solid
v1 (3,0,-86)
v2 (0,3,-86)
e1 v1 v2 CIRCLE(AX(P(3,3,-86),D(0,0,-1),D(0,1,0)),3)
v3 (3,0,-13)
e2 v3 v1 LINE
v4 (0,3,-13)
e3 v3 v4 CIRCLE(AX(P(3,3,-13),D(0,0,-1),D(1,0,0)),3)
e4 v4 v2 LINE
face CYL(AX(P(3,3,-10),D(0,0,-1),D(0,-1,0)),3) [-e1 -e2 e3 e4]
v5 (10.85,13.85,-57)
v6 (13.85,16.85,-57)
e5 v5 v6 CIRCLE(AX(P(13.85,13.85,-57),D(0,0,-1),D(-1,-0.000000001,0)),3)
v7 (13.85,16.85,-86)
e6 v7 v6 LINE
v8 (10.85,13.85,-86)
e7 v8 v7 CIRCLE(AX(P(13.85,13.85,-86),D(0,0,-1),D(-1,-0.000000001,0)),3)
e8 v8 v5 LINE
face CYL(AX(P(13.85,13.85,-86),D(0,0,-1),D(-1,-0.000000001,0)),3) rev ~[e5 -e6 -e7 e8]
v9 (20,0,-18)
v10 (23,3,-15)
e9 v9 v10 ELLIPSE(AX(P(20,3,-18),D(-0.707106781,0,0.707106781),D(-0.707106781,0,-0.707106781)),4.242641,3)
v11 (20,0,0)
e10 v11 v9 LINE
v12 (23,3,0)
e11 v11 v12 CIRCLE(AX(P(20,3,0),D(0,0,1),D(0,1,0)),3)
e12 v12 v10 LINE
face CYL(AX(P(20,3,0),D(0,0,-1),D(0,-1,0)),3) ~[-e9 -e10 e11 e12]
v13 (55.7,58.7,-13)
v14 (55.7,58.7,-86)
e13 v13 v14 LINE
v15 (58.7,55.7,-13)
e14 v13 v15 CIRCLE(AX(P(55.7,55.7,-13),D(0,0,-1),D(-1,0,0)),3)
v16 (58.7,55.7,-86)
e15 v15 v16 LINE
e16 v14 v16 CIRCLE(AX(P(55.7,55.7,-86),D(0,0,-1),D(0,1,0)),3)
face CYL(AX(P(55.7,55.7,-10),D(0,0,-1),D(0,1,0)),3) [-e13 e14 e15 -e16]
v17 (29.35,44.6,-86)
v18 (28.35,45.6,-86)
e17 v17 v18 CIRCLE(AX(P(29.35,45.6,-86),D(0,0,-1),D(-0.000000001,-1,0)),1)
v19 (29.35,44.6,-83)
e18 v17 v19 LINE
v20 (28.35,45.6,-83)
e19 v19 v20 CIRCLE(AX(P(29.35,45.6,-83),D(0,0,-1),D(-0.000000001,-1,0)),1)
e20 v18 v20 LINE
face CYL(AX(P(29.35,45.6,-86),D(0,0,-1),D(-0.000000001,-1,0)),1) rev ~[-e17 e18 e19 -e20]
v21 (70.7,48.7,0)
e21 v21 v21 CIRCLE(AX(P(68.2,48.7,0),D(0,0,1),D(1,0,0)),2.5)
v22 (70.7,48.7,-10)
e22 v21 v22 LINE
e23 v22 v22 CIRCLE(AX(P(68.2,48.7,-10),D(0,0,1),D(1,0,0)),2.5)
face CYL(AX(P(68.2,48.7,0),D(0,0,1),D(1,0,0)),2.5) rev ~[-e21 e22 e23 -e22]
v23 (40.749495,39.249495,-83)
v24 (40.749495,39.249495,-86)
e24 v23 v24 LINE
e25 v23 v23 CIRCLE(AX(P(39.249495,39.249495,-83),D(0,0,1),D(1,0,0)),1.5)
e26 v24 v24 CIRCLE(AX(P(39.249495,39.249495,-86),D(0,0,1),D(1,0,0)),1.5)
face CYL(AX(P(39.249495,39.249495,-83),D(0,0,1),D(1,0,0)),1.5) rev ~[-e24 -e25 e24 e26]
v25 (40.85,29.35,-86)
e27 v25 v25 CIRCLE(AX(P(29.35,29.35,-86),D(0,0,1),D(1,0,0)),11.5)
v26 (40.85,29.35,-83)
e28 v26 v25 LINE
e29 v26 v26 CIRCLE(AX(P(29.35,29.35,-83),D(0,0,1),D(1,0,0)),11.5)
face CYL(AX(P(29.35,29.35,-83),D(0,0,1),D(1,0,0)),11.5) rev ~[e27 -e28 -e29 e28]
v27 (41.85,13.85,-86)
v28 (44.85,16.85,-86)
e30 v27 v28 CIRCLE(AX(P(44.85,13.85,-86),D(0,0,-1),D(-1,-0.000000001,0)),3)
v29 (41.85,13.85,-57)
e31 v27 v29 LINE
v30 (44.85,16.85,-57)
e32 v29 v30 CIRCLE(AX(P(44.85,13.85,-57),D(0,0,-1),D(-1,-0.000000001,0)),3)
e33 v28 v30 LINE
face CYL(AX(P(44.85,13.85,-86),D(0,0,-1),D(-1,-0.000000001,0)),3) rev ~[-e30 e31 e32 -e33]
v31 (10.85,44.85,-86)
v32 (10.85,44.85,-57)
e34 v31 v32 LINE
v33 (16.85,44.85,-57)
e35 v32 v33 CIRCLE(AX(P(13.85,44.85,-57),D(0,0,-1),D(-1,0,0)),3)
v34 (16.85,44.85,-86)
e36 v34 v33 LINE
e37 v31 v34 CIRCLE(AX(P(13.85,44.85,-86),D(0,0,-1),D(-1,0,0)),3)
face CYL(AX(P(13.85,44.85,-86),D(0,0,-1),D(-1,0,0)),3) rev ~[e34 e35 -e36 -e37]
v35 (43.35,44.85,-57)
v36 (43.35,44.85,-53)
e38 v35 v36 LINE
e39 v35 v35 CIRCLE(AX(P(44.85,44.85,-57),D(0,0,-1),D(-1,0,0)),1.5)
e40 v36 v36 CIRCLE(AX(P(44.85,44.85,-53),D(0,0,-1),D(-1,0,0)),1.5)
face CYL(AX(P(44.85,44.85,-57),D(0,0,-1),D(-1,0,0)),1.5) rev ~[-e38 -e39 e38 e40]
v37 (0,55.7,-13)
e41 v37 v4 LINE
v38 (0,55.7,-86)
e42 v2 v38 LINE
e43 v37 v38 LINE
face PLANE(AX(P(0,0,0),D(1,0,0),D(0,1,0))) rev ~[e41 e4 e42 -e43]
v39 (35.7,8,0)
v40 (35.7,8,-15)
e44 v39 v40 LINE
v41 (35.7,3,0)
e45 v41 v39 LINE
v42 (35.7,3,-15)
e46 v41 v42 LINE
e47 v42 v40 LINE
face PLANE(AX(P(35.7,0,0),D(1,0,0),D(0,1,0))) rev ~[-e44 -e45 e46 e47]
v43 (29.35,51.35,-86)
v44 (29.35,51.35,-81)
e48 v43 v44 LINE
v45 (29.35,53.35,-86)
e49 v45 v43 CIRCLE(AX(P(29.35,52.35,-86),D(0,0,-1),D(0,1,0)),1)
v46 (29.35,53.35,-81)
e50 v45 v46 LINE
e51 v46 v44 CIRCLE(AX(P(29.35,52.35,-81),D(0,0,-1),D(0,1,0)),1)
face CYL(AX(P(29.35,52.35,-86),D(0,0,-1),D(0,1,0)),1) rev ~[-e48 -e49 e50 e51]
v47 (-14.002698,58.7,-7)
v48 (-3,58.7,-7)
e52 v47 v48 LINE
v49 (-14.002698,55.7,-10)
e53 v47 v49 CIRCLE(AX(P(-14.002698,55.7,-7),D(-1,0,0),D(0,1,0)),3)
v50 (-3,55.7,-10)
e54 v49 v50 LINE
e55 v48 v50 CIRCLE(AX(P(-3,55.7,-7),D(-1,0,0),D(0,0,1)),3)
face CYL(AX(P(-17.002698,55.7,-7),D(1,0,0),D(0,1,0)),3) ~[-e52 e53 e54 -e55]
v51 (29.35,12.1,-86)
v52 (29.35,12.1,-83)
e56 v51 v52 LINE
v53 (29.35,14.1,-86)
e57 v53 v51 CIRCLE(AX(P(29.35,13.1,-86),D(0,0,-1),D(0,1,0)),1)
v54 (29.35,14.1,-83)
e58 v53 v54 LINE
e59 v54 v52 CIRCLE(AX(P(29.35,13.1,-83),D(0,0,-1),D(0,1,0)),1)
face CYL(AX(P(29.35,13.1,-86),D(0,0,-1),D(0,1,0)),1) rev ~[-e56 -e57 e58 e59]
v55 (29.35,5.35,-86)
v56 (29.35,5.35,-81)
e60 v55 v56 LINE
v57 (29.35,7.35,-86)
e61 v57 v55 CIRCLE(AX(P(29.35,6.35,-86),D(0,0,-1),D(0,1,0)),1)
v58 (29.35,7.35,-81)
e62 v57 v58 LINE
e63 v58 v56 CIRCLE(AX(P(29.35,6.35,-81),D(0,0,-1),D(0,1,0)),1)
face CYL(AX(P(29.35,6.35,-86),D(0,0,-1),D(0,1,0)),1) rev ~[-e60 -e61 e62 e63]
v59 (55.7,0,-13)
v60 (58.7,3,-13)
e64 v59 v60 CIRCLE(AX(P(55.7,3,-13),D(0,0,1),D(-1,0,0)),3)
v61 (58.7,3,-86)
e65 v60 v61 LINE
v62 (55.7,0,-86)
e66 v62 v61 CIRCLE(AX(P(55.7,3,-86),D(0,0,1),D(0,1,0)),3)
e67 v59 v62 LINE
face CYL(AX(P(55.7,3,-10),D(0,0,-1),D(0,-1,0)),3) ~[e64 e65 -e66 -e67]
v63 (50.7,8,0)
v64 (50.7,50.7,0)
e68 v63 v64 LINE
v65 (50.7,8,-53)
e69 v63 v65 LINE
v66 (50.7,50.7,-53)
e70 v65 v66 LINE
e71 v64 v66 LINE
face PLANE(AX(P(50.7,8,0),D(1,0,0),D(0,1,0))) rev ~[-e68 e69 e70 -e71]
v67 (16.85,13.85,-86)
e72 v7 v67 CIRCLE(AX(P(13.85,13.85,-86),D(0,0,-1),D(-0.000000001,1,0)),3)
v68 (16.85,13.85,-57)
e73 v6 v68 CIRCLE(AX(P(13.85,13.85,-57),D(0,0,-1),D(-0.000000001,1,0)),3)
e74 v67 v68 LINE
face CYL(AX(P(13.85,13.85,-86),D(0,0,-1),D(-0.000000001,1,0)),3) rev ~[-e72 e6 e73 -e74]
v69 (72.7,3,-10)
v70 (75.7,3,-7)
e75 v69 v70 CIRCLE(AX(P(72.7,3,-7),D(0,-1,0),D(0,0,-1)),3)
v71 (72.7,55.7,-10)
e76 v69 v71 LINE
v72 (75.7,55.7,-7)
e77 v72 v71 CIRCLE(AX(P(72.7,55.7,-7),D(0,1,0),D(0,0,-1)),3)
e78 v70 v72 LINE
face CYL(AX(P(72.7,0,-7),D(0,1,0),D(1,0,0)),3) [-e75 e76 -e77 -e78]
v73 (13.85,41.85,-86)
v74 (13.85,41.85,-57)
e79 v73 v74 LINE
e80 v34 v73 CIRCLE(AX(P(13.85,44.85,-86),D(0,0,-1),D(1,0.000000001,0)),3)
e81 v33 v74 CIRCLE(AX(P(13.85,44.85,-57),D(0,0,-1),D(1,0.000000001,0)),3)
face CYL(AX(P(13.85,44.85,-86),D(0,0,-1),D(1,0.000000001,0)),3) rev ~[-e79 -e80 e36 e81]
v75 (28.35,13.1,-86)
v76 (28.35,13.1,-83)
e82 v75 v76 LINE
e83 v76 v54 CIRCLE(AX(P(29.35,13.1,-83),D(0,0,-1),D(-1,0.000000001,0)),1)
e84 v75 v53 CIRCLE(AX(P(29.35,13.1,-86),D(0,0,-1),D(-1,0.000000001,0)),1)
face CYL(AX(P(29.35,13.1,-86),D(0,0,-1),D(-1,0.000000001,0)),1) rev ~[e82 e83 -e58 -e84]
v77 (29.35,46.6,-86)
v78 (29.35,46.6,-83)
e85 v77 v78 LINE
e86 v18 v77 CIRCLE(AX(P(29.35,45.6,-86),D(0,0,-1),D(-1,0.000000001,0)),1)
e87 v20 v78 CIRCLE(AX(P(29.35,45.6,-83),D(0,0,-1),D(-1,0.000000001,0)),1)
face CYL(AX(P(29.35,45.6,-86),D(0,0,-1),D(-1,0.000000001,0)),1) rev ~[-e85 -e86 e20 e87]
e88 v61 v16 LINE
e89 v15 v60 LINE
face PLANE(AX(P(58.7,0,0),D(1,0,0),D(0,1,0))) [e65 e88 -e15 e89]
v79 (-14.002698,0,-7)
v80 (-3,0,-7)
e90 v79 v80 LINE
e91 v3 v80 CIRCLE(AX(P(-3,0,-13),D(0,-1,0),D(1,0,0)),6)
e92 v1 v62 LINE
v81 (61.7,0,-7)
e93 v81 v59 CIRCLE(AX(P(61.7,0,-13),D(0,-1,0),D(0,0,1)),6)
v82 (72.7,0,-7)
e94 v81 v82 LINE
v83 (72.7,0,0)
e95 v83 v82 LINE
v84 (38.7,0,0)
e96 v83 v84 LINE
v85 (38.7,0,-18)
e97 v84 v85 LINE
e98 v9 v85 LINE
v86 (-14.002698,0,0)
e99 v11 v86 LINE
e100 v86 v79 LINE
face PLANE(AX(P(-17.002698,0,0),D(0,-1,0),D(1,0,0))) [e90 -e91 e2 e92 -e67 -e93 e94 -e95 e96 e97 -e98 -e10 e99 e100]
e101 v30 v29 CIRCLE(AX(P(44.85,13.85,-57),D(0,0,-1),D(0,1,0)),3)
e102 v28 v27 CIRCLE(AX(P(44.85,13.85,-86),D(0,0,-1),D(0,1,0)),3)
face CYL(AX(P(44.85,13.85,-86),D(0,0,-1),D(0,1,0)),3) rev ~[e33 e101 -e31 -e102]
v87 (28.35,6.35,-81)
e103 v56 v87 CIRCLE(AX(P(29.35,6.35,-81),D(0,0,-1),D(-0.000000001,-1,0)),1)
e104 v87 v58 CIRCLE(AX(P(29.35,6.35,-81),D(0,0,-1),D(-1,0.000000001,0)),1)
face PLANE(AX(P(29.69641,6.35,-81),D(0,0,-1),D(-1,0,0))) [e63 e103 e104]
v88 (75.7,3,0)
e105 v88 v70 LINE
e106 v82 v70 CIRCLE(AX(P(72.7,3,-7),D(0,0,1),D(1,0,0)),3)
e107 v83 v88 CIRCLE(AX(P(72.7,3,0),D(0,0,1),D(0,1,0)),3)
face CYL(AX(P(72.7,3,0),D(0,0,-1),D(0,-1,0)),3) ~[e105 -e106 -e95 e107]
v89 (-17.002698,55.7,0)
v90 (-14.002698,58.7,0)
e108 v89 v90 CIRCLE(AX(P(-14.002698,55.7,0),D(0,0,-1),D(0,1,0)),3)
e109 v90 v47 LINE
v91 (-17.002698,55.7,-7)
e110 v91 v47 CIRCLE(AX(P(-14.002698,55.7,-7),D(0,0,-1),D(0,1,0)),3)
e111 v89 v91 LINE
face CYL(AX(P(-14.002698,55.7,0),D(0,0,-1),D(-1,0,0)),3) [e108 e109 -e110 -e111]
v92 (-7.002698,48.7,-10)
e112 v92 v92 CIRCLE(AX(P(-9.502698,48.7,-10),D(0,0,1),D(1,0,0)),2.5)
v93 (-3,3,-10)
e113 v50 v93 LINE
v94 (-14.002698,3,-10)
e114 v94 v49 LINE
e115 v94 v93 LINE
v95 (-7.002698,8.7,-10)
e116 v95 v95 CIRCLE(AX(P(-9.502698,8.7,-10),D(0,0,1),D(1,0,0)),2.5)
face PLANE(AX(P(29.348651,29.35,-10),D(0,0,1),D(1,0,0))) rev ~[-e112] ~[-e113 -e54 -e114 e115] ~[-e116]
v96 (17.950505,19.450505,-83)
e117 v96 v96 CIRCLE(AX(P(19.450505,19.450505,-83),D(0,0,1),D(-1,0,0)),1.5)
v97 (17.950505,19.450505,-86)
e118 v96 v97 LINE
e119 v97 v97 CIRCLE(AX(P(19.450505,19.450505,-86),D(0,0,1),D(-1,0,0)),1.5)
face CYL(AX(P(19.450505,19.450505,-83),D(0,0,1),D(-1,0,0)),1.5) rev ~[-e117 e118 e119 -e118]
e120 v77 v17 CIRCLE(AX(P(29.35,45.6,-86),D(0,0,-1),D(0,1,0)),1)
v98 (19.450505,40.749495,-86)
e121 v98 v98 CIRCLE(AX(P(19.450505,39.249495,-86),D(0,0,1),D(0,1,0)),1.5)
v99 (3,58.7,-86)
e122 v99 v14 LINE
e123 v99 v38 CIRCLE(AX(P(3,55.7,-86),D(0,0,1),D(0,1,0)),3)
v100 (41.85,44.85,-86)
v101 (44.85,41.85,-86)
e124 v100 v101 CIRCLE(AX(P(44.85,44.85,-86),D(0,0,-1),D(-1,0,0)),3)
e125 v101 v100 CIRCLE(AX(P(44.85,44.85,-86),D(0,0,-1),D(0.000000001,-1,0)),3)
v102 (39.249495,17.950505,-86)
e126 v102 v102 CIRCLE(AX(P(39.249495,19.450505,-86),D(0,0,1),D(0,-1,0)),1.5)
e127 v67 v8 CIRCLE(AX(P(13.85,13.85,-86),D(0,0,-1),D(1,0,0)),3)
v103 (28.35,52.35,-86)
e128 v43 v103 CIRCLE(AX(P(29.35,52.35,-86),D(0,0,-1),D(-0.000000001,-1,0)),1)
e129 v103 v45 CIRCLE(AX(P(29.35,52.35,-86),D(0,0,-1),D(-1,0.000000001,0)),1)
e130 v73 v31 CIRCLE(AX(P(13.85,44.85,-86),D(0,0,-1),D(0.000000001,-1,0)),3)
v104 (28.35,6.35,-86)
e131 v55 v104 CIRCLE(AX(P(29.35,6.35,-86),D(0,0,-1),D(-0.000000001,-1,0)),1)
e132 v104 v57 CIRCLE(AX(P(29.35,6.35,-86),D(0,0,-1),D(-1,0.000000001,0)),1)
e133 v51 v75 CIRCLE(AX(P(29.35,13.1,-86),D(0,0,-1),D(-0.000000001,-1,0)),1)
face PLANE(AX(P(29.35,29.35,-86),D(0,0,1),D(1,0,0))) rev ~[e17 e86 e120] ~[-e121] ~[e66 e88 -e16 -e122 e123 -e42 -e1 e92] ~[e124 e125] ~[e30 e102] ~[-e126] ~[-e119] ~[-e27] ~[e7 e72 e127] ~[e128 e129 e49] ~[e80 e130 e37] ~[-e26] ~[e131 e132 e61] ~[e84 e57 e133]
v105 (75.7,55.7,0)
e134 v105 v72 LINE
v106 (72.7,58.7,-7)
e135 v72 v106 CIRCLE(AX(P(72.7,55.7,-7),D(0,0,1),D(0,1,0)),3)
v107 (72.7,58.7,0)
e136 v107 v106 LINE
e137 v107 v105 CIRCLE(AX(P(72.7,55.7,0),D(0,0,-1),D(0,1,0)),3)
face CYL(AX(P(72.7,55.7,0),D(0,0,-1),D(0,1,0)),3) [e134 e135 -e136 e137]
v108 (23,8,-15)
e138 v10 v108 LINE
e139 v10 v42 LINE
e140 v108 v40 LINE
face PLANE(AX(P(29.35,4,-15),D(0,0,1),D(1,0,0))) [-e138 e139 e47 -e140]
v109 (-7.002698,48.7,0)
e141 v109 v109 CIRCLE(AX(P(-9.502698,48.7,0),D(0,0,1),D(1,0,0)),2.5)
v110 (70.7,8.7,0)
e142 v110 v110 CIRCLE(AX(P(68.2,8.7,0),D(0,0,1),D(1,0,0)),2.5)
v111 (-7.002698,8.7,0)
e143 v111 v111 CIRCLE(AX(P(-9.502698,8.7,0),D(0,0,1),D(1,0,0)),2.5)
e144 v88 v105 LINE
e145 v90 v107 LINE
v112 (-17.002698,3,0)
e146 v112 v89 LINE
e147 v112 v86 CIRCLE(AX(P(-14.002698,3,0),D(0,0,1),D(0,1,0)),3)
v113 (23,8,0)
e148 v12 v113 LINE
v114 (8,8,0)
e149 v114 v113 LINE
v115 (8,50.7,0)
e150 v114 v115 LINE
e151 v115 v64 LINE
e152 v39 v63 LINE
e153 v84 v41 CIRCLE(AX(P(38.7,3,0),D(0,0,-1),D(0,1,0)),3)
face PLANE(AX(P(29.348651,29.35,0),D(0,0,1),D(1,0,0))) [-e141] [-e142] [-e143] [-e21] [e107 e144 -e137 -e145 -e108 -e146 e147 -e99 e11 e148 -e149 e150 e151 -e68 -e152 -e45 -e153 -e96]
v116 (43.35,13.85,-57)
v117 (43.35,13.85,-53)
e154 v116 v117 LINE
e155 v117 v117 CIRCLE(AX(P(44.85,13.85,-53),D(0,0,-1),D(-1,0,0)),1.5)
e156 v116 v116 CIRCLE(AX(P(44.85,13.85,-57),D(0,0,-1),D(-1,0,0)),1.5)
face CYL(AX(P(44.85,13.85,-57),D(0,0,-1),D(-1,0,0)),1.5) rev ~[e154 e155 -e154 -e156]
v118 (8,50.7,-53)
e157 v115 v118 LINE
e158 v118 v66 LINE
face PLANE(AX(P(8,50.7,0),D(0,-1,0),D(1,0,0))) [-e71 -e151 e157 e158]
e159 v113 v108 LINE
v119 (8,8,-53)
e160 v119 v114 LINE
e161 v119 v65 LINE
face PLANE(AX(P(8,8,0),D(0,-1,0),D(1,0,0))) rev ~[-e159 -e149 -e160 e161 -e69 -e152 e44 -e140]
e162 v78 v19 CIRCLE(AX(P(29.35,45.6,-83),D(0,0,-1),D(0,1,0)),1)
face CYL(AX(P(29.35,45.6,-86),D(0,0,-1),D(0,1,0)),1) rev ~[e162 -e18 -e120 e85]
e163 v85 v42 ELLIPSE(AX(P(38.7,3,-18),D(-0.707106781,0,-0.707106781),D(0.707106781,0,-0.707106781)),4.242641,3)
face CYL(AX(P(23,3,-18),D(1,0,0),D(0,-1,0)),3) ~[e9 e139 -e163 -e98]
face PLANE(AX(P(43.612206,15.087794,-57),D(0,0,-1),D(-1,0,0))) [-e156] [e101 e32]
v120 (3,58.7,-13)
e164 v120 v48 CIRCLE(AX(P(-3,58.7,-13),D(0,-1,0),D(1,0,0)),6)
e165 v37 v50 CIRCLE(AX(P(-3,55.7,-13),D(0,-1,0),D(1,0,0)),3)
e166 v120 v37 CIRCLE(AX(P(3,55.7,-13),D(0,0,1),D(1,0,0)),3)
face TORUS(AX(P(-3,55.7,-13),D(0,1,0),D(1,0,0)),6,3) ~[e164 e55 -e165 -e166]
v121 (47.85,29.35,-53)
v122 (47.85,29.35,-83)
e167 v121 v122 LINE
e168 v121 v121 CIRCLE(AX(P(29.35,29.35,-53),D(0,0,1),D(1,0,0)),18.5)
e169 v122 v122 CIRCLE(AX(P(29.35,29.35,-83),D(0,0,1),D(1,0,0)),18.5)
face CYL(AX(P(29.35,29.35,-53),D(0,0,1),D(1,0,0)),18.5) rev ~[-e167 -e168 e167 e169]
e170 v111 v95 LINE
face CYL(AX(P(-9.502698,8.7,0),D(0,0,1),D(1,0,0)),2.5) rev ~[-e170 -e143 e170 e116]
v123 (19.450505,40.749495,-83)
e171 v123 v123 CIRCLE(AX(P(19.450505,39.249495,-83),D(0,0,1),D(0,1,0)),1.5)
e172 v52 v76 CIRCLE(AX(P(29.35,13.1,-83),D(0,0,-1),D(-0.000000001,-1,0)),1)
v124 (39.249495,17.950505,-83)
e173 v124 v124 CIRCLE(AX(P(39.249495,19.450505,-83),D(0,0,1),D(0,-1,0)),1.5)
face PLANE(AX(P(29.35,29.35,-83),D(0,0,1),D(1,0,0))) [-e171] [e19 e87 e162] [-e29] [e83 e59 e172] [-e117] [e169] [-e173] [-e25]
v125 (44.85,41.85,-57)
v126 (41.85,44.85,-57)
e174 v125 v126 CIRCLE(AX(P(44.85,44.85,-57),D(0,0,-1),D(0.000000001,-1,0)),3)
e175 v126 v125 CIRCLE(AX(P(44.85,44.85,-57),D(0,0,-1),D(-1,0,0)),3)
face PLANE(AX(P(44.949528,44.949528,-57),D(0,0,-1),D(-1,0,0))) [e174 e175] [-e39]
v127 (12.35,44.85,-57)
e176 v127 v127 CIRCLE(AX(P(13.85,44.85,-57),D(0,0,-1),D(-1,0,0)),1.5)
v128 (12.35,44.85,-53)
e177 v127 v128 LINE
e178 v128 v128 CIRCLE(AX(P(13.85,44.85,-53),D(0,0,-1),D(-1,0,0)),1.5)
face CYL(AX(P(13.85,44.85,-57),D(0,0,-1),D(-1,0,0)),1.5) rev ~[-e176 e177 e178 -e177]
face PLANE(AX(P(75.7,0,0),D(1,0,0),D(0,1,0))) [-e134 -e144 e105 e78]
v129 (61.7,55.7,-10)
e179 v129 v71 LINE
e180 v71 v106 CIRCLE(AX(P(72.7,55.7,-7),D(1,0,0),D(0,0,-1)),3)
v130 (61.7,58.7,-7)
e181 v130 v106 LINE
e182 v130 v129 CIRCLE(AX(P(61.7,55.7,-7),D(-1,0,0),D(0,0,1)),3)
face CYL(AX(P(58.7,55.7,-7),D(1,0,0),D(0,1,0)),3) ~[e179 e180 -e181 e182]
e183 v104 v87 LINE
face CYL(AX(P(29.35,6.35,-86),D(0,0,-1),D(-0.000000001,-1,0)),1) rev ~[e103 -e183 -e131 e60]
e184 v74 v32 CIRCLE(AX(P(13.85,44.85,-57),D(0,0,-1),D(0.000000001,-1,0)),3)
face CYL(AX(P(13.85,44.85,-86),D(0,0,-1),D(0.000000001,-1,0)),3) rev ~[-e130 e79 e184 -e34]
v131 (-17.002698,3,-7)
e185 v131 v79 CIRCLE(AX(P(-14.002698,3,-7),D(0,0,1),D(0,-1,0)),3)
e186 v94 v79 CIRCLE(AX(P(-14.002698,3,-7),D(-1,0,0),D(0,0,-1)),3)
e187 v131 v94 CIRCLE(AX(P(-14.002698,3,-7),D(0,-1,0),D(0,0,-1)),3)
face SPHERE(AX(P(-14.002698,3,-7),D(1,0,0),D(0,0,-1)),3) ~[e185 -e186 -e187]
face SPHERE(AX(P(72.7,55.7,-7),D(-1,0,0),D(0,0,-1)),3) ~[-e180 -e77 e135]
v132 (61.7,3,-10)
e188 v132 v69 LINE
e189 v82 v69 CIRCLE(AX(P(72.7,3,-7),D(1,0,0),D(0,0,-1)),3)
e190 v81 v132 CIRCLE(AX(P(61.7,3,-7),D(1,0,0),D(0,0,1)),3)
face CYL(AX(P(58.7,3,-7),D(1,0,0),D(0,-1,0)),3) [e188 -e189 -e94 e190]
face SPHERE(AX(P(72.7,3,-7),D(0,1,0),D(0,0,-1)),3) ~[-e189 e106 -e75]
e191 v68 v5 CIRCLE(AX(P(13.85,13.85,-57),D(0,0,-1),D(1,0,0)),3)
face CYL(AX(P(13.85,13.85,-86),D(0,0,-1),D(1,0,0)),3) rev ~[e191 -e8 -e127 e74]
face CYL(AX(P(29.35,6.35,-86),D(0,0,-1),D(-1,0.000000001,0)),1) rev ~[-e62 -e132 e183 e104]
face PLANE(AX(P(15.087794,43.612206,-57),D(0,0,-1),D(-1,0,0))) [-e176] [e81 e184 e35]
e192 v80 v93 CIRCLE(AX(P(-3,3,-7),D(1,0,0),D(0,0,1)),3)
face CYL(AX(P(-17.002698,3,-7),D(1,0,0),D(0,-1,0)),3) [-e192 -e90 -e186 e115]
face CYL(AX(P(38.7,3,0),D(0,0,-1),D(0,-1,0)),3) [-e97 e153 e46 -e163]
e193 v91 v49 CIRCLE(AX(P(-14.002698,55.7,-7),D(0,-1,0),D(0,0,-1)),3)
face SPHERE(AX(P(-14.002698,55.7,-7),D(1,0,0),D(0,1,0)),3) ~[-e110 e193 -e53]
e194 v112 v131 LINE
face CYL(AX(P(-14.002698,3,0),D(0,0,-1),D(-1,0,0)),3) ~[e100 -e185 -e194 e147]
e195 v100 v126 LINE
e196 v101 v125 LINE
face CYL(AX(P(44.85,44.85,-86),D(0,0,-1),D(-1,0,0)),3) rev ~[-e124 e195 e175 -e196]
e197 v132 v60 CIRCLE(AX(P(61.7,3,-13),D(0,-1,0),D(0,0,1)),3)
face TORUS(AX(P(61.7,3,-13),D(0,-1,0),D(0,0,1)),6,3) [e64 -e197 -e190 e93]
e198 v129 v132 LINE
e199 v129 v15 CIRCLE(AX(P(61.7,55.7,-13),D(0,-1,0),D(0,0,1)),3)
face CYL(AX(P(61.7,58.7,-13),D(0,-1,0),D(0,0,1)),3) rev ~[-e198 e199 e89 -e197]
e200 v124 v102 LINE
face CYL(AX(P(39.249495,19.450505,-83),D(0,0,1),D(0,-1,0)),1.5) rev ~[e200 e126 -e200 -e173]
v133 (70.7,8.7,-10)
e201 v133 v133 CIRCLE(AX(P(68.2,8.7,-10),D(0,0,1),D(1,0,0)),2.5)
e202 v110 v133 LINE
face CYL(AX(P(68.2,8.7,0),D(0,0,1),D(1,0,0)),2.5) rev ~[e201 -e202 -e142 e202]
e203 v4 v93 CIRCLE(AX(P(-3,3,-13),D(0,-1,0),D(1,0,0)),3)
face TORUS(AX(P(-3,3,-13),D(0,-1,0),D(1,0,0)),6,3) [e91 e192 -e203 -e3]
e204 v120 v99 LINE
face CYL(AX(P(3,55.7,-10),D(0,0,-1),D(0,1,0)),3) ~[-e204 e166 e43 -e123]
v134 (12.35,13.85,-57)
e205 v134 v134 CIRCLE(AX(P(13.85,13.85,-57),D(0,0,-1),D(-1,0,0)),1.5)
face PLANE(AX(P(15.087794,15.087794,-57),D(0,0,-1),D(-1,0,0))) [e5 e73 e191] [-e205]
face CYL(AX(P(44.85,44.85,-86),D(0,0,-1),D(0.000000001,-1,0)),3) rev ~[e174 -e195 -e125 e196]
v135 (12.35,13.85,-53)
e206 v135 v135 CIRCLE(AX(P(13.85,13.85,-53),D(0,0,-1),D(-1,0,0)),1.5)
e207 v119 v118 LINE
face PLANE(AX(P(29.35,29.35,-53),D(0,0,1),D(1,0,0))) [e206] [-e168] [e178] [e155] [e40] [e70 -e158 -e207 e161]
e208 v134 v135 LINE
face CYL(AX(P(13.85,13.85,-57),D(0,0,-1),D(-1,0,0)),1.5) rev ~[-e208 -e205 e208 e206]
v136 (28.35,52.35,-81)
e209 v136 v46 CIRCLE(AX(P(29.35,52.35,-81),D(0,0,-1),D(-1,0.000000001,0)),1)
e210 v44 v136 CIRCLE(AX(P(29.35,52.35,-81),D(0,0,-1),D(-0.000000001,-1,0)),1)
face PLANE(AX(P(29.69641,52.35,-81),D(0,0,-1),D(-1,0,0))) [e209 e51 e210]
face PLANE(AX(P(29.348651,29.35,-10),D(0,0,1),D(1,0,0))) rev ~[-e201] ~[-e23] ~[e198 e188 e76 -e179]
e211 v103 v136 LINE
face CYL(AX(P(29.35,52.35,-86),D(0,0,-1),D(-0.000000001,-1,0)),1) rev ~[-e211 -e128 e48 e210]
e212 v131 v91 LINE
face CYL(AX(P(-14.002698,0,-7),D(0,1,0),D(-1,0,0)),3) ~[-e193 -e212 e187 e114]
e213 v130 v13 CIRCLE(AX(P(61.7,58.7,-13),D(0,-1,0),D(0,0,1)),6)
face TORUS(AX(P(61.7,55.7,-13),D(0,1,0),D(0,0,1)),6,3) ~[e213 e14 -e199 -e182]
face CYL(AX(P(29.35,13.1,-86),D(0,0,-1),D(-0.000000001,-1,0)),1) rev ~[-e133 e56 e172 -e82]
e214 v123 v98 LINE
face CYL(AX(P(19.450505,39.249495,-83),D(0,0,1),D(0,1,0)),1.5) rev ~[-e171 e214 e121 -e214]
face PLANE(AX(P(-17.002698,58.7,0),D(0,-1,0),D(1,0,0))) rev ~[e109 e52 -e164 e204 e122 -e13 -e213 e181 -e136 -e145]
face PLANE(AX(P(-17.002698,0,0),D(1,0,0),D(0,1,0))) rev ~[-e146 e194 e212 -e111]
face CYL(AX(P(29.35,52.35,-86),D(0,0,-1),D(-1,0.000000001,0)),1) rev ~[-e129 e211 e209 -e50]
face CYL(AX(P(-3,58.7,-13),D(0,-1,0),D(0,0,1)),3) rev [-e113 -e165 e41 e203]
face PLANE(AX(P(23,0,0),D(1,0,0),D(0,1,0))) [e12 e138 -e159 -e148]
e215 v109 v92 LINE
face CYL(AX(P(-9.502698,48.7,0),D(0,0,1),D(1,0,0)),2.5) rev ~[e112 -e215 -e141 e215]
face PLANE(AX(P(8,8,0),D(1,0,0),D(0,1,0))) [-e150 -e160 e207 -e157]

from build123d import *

# Parameters (mm, degrees)
CROQUIS1_W              = 58.7
CROQUIS1_H              = 58.7
SALIENTE_EXTRUIR1_DEPTH = 86
CROQUIS2_W              = 42.7
CROQUIS2_H              = 42.7
CORTAR_EXTRUIR1_DEPTH   = 53
CROQUIS3_R              = 18.5
CORTAR_EXTRUIR2_DEPTH   = 30
CROQUIS4_R              = 11.5
CORTAR_EXTRUIR3_DEPTH   = 118.389863276
CROQUIS5_R              = 1.5
CORTAR_EXTRUIR4_DEPTH   = 118.389863276
MATRIZC1_COUNT          = 4
CORTAR_EXTRUIR5_DEPTH   = 5
CROQUIS7_W              = 92.702698273
CROQUIS7_H              = 58.7
CROQUIS7_R              = 2.5
CROQUIS7_W_2            = 42.7
CROQUIS7_H_2            = 42.7
SALIENTE_EXTRUIR2_DEPTH = 10
CROQUIS9_W              = 12.7
CROQUIS9_H              = 8
CORTAR_EXTRUIR7_DEPTH   = 15
REDONDEO1_R             = 3
CORTAR_EXTRUIR8_DEPTH   = 29
CROQUIS11_R             = 1.5
CORTAR_EXTRUIR9_DEPTH   = 4


with BuildPart() as part:
    # Croquis1 → Saliente-Extruir1 (new body)
    with BuildSketch(Plane.XY):
        with Locations((29.35, 29.35)):
            Rectangle(CROQUIS1_W, CROQUIS1_H)
    extrude(amount=-SALIENTE_EXTRUIR1_DEPTH)

    # Croquis2 → Cortar-Extruir1 (cut)
    with BuildSketch(Plane.XY):
        with Locations((29.35, 29.35)):
            Rectangle(CROQUIS2_W, CROQUIS2_H)
    extrude(amount=-CORTAR_EXTRUIR1_DEPTH, mode=Mode.SUBTRACT)

    # Croquis3 → Cortar-Extruir2 (cut)
    with BuildSketch(Plane.XY.offset(-53)):
        with Locations((29.35, 29.35)):
            Circle(CROQUIS3_R)
    extrude(amount=-CORTAR_EXTRUIR2_DEPTH, mode=Mode.SUBTRACT)

    # Croquis4 → Cortar-Extruir3 (cut, through all)
    with BuildSketch(Plane.XY.offset(-83)):
        with Locations((29.35, 29.35)):
            Circle(CROQUIS4_R)
    extrude(amount=-CORTAR_EXTRUIR3_DEPTH, mode=Mode.SUBTRACT)

    # Croquis5 → Cortar-Extruir4 (cut, through all)
    with BuildSketch(Plane.XY.offset(-83)):
        with Locations((39.249494937, 39.249494937)):
            Circle(CROQUIS5_R)
    cortar_extruir4 = extrude(amount=-CORTAR_EXTRUIR4_DEPTH, mode=Mode.SUBTRACT)

    # MatrizC1: Cortar-Extruir4 ×4 about axis
    matrizc1_axis = Axis((29.35, 29.35, 0), (0, 0, 1))
    for i in range(1, MATRIZC1_COUNT):
        add(cortar_extruir4.rotate(matrizc1_axis, i * 360 / MATRIZC1_COUNT), mode=Mode.SUBTRACT)

    # Croquis6 → Cortar-Extruir5 (cut)
    with BuildSketch(Plane(origin=(0, 0, -86), x_dir=(-1, 0, 0), z_dir=(0, 0, -1))):
        with BuildLine():
            ThreePointArc((-29.35, 53.35), (-30.35, 52.35), (-29.35, 51.35))
            Line((-29.35, 51.35), (-29.35, 53.35))
        make_face()
        with BuildLine():
            Line((-29.35, 53.35), (-29.35, 51.35))
            ThreePointArc((-29.35, 51.35), (-28.642893219, 51.642893219), (-28.35, 52.35))
            ThreePointArc((-28.35, 52.35), (-28.642893219, 53.057106781), (-29.35, 53.35))
        make_face()
        with BuildLine():
            ThreePointArc((-29.35, 46.6), (-30.35, 45.6), (-29.35, 44.6))
            Line((-29.35, 44.6), (-29.35, 46.6))
        make_face()
        with BuildLine():
            Line((-29.35, 46.6), (-29.35, 44.6))
            ThreePointArc((-29.35, 44.6), (-28.642893219, 44.892893219), (-28.35, 45.6))
            ThreePointArc((-28.35, 45.6), (-28.642893219, 46.307106781), (-29.35, 46.6))
        make_face()
        with BuildLine():
            ThreePointArc((-29.35, 14.1), (-30.35, 13.1), (-29.35, 12.1))
            Line((-29.35, 12.1), (-29.35, 14.1))
        make_face()
        with BuildLine():
            Line((-29.35, 14.1), (-29.35, 12.1))
            ThreePointArc((-29.35, 12.1), (-28.642893219, 12.392893219), (-28.35, 13.1))
            ThreePointArc((-28.35, 13.1), (-28.642893219, 13.807106781), (-29.35, 14.1))
        make_face()
        with BuildLine():
            ThreePointArc((-29.35, 7.35), (-30.35, 6.35), (-29.35, 5.35))
            Line((-29.35, 5.35), (-29.35, 7.35))
        make_face()
        with BuildLine():
            Line((-29.35, 7.35), (-29.35, 5.35))
            ThreePointArc((-29.35, 5.35), (-28.642893219, 5.642893219), (-28.35, 6.35))
            ThreePointArc((-28.35, 6.35), (-28.642893219, 7.057106781), (-29.35, 7.35))
        make_face()
    extrude(amount=-CORTAR_EXTRUIR5_DEPTH, mode=Mode.SUBTRACT)

    # Croquis7 → Saliente-Extruir2 (add)
    with BuildSketch(Plane.XY):
        with Locations((29.348650864, 29.35)):
            Rectangle(CROQUIS7_W, CROQUIS7_H)
        with Locations((-9.502698273, 48.7)):
            Circle(CROQUIS7_R, mode=Mode.SUBTRACT)
        with Locations((68.2, 48.7)):
            Circle(CROQUIS7_R, mode=Mode.SUBTRACT)
        with Locations((-9.502698273, 8.7)):
            Circle(CROQUIS7_R, mode=Mode.SUBTRACT)
        with Locations((68.2, 8.7)):
            Circle(CROQUIS7_R, mode=Mode.SUBTRACT)
        with Locations((29.35, 29.35)):
            Rectangle(CROQUIS7_W_2, CROQUIS7_H_2, mode=Mode.SUBTRACT)
    extrude(amount=-SALIENTE_EXTRUIR2_DEPTH)

    # Croquis9 → Cortar-Extruir7 (cut)
    with BuildSketch(Plane.XY):
        with Locations((29.35, 4)):
            Rectangle(CROQUIS9_W, CROQUIS9_H)
    extrude(amount=-CORTAR_EXTRUIR7_DEPTH, mode=Mode.SUBTRACT)

    # Redondeo1
    redondeo1_edges = [part.edges().sort_by_distance(p)[0] for p in [
        (0, 0, -48),
        (23, 0, -7.5),
        (29.35, 0, -15),
        (35.7, 0, -7.5),
        (-8.501349137, 58.7, -10),
        (-17.002698273, 58.7, -5),
        (-8.501349137, 0, -10),
        (0, 29.35, -10),
        (58.7, 29.35, -10),
        (-17.002698273, 29.35, -10),
        (0, 58.7, -48),
        (-17.002698273, 0, -5),
        (67.2, 58.7, -10),
        (75.7, 29.35, -10),
        (58.7, 58.7, -48),
        (75.7, 58.7, -5),
        (67.2, 0, -10),
        (75.7, 0, -5),
        (58.7, 0, -48),
    ]]
    fillet(redondeo1_edges, radius=REDONDEO1_R)

    # Croquis10 → Cortar-Extruir8 (cut)
    with BuildSketch(Plane(origin=(0, 0, -86), x_dir=(-1, 0, 0), z_dir=(0, 0, -1))):
        with BuildLine():
            ThreePointArc((-41.85, 44.85), (-46.971320344, 46.971320344), (-44.85, 41.85))
            Line((-44.85, 41.85), (-44.85, 44.85))
            Line((-44.85, 44.85), (-41.85, 44.85))
        make_face()
        with BuildLine():
            Line((-44.85, 44.85), (-44.85, 41.85))
            ThreePointArc((-44.85, 41.85), (-42.728679656, 42.728679656), (-41.85, 44.85))
            Line((-41.85, 44.85), (-44.85, 44.85))
        make_face()
        with BuildLine():
            ThreePointArc((-16.85, 44.85), (-15.971320344, 42.728679656), (-13.85, 41.85))
            Line((-13.85, 41.85), (-13.85, 44.85))
            Line((-13.85, 44.85), (-16.85, 44.85))
        make_face()
        with BuildLine():
            Line((-13.85, 44.85), (-13.85, 41.85))
            ThreePointArc((-13.85, 41.85), (-11.728679656, 42.728679656), (-10.85, 44.85))
            ThreePointArc((-10.85, 44.85), (-13.85, 47.85), (-16.85, 44.85))
            Line((-16.85, 44.85), (-13.85, 44.85))
        make_face()
        with BuildLine():
            ThreePointArc((-13.85, 16.85), (-15.971320344, 15.971320344), (-16.85, 13.85))
            Line((-16.85, 13.85), (-13.85, 13.85))
            Line((-13.85, 13.85), (-13.85, 16.85))
        make_face()
        with BuildLine():
            Line((-13.85, 13.85), (-16.85, 13.85))
            ThreePointArc((-16.85, 13.85), (-13.85, 10.85), (-10.85, 13.85))
            ThreePointArc((-10.85, 13.85), (-11.728679656, 15.971320344), (-13.85, 16.85))
            Line((-13.85, 16.85), (-13.85, 13.85))
        make_face()
        with BuildLine():
            Line((-44.85, 16.85), (-44.85, 13.85))
            Line((-44.85, 13.85), (-41.85, 13.85))
            ThreePointArc((-41.85, 13.85), (-42.728679656, 15.971320344), (-44.85, 16.85))
        make_face()
        with BuildLine():
            Line((-41.85, 13.85), (-44.85, 13.85))
            Line((-44.85, 13.85), (-44.85, 16.85))
            ThreePointArc((-44.85, 16.85), (-46.971320344, 11.728679656), (-41.85, 13.85))
        make_face()
    extrude(amount=-CORTAR_EXTRUIR8_DEPTH, mode=Mode.SUBTRACT)

    # Croquis11 → Cortar-Extruir9 (cut)
    with BuildSketch(Plane(origin=(0, 0, -57), x_dir=(-1, 0, 0), z_dir=(0, 0, -1))):
        with Locations((-44.85, 44.85)):
            Circle(CROQUIS11_R)
        with Locations((-13.85, 44.85)):
            Circle(CROQUIS11_R)
        with Locations((-13.85, 13.85)):
            Circle(CROQUIS11_R)
        with Locations((-44.85, 13.85)):
            Circle(CROQUIS11_R)
    extrude(amount=-CORTAR_EXTRUIR9_DEPTH, mode=Mode.SUBTRACT)


solid = part.part
